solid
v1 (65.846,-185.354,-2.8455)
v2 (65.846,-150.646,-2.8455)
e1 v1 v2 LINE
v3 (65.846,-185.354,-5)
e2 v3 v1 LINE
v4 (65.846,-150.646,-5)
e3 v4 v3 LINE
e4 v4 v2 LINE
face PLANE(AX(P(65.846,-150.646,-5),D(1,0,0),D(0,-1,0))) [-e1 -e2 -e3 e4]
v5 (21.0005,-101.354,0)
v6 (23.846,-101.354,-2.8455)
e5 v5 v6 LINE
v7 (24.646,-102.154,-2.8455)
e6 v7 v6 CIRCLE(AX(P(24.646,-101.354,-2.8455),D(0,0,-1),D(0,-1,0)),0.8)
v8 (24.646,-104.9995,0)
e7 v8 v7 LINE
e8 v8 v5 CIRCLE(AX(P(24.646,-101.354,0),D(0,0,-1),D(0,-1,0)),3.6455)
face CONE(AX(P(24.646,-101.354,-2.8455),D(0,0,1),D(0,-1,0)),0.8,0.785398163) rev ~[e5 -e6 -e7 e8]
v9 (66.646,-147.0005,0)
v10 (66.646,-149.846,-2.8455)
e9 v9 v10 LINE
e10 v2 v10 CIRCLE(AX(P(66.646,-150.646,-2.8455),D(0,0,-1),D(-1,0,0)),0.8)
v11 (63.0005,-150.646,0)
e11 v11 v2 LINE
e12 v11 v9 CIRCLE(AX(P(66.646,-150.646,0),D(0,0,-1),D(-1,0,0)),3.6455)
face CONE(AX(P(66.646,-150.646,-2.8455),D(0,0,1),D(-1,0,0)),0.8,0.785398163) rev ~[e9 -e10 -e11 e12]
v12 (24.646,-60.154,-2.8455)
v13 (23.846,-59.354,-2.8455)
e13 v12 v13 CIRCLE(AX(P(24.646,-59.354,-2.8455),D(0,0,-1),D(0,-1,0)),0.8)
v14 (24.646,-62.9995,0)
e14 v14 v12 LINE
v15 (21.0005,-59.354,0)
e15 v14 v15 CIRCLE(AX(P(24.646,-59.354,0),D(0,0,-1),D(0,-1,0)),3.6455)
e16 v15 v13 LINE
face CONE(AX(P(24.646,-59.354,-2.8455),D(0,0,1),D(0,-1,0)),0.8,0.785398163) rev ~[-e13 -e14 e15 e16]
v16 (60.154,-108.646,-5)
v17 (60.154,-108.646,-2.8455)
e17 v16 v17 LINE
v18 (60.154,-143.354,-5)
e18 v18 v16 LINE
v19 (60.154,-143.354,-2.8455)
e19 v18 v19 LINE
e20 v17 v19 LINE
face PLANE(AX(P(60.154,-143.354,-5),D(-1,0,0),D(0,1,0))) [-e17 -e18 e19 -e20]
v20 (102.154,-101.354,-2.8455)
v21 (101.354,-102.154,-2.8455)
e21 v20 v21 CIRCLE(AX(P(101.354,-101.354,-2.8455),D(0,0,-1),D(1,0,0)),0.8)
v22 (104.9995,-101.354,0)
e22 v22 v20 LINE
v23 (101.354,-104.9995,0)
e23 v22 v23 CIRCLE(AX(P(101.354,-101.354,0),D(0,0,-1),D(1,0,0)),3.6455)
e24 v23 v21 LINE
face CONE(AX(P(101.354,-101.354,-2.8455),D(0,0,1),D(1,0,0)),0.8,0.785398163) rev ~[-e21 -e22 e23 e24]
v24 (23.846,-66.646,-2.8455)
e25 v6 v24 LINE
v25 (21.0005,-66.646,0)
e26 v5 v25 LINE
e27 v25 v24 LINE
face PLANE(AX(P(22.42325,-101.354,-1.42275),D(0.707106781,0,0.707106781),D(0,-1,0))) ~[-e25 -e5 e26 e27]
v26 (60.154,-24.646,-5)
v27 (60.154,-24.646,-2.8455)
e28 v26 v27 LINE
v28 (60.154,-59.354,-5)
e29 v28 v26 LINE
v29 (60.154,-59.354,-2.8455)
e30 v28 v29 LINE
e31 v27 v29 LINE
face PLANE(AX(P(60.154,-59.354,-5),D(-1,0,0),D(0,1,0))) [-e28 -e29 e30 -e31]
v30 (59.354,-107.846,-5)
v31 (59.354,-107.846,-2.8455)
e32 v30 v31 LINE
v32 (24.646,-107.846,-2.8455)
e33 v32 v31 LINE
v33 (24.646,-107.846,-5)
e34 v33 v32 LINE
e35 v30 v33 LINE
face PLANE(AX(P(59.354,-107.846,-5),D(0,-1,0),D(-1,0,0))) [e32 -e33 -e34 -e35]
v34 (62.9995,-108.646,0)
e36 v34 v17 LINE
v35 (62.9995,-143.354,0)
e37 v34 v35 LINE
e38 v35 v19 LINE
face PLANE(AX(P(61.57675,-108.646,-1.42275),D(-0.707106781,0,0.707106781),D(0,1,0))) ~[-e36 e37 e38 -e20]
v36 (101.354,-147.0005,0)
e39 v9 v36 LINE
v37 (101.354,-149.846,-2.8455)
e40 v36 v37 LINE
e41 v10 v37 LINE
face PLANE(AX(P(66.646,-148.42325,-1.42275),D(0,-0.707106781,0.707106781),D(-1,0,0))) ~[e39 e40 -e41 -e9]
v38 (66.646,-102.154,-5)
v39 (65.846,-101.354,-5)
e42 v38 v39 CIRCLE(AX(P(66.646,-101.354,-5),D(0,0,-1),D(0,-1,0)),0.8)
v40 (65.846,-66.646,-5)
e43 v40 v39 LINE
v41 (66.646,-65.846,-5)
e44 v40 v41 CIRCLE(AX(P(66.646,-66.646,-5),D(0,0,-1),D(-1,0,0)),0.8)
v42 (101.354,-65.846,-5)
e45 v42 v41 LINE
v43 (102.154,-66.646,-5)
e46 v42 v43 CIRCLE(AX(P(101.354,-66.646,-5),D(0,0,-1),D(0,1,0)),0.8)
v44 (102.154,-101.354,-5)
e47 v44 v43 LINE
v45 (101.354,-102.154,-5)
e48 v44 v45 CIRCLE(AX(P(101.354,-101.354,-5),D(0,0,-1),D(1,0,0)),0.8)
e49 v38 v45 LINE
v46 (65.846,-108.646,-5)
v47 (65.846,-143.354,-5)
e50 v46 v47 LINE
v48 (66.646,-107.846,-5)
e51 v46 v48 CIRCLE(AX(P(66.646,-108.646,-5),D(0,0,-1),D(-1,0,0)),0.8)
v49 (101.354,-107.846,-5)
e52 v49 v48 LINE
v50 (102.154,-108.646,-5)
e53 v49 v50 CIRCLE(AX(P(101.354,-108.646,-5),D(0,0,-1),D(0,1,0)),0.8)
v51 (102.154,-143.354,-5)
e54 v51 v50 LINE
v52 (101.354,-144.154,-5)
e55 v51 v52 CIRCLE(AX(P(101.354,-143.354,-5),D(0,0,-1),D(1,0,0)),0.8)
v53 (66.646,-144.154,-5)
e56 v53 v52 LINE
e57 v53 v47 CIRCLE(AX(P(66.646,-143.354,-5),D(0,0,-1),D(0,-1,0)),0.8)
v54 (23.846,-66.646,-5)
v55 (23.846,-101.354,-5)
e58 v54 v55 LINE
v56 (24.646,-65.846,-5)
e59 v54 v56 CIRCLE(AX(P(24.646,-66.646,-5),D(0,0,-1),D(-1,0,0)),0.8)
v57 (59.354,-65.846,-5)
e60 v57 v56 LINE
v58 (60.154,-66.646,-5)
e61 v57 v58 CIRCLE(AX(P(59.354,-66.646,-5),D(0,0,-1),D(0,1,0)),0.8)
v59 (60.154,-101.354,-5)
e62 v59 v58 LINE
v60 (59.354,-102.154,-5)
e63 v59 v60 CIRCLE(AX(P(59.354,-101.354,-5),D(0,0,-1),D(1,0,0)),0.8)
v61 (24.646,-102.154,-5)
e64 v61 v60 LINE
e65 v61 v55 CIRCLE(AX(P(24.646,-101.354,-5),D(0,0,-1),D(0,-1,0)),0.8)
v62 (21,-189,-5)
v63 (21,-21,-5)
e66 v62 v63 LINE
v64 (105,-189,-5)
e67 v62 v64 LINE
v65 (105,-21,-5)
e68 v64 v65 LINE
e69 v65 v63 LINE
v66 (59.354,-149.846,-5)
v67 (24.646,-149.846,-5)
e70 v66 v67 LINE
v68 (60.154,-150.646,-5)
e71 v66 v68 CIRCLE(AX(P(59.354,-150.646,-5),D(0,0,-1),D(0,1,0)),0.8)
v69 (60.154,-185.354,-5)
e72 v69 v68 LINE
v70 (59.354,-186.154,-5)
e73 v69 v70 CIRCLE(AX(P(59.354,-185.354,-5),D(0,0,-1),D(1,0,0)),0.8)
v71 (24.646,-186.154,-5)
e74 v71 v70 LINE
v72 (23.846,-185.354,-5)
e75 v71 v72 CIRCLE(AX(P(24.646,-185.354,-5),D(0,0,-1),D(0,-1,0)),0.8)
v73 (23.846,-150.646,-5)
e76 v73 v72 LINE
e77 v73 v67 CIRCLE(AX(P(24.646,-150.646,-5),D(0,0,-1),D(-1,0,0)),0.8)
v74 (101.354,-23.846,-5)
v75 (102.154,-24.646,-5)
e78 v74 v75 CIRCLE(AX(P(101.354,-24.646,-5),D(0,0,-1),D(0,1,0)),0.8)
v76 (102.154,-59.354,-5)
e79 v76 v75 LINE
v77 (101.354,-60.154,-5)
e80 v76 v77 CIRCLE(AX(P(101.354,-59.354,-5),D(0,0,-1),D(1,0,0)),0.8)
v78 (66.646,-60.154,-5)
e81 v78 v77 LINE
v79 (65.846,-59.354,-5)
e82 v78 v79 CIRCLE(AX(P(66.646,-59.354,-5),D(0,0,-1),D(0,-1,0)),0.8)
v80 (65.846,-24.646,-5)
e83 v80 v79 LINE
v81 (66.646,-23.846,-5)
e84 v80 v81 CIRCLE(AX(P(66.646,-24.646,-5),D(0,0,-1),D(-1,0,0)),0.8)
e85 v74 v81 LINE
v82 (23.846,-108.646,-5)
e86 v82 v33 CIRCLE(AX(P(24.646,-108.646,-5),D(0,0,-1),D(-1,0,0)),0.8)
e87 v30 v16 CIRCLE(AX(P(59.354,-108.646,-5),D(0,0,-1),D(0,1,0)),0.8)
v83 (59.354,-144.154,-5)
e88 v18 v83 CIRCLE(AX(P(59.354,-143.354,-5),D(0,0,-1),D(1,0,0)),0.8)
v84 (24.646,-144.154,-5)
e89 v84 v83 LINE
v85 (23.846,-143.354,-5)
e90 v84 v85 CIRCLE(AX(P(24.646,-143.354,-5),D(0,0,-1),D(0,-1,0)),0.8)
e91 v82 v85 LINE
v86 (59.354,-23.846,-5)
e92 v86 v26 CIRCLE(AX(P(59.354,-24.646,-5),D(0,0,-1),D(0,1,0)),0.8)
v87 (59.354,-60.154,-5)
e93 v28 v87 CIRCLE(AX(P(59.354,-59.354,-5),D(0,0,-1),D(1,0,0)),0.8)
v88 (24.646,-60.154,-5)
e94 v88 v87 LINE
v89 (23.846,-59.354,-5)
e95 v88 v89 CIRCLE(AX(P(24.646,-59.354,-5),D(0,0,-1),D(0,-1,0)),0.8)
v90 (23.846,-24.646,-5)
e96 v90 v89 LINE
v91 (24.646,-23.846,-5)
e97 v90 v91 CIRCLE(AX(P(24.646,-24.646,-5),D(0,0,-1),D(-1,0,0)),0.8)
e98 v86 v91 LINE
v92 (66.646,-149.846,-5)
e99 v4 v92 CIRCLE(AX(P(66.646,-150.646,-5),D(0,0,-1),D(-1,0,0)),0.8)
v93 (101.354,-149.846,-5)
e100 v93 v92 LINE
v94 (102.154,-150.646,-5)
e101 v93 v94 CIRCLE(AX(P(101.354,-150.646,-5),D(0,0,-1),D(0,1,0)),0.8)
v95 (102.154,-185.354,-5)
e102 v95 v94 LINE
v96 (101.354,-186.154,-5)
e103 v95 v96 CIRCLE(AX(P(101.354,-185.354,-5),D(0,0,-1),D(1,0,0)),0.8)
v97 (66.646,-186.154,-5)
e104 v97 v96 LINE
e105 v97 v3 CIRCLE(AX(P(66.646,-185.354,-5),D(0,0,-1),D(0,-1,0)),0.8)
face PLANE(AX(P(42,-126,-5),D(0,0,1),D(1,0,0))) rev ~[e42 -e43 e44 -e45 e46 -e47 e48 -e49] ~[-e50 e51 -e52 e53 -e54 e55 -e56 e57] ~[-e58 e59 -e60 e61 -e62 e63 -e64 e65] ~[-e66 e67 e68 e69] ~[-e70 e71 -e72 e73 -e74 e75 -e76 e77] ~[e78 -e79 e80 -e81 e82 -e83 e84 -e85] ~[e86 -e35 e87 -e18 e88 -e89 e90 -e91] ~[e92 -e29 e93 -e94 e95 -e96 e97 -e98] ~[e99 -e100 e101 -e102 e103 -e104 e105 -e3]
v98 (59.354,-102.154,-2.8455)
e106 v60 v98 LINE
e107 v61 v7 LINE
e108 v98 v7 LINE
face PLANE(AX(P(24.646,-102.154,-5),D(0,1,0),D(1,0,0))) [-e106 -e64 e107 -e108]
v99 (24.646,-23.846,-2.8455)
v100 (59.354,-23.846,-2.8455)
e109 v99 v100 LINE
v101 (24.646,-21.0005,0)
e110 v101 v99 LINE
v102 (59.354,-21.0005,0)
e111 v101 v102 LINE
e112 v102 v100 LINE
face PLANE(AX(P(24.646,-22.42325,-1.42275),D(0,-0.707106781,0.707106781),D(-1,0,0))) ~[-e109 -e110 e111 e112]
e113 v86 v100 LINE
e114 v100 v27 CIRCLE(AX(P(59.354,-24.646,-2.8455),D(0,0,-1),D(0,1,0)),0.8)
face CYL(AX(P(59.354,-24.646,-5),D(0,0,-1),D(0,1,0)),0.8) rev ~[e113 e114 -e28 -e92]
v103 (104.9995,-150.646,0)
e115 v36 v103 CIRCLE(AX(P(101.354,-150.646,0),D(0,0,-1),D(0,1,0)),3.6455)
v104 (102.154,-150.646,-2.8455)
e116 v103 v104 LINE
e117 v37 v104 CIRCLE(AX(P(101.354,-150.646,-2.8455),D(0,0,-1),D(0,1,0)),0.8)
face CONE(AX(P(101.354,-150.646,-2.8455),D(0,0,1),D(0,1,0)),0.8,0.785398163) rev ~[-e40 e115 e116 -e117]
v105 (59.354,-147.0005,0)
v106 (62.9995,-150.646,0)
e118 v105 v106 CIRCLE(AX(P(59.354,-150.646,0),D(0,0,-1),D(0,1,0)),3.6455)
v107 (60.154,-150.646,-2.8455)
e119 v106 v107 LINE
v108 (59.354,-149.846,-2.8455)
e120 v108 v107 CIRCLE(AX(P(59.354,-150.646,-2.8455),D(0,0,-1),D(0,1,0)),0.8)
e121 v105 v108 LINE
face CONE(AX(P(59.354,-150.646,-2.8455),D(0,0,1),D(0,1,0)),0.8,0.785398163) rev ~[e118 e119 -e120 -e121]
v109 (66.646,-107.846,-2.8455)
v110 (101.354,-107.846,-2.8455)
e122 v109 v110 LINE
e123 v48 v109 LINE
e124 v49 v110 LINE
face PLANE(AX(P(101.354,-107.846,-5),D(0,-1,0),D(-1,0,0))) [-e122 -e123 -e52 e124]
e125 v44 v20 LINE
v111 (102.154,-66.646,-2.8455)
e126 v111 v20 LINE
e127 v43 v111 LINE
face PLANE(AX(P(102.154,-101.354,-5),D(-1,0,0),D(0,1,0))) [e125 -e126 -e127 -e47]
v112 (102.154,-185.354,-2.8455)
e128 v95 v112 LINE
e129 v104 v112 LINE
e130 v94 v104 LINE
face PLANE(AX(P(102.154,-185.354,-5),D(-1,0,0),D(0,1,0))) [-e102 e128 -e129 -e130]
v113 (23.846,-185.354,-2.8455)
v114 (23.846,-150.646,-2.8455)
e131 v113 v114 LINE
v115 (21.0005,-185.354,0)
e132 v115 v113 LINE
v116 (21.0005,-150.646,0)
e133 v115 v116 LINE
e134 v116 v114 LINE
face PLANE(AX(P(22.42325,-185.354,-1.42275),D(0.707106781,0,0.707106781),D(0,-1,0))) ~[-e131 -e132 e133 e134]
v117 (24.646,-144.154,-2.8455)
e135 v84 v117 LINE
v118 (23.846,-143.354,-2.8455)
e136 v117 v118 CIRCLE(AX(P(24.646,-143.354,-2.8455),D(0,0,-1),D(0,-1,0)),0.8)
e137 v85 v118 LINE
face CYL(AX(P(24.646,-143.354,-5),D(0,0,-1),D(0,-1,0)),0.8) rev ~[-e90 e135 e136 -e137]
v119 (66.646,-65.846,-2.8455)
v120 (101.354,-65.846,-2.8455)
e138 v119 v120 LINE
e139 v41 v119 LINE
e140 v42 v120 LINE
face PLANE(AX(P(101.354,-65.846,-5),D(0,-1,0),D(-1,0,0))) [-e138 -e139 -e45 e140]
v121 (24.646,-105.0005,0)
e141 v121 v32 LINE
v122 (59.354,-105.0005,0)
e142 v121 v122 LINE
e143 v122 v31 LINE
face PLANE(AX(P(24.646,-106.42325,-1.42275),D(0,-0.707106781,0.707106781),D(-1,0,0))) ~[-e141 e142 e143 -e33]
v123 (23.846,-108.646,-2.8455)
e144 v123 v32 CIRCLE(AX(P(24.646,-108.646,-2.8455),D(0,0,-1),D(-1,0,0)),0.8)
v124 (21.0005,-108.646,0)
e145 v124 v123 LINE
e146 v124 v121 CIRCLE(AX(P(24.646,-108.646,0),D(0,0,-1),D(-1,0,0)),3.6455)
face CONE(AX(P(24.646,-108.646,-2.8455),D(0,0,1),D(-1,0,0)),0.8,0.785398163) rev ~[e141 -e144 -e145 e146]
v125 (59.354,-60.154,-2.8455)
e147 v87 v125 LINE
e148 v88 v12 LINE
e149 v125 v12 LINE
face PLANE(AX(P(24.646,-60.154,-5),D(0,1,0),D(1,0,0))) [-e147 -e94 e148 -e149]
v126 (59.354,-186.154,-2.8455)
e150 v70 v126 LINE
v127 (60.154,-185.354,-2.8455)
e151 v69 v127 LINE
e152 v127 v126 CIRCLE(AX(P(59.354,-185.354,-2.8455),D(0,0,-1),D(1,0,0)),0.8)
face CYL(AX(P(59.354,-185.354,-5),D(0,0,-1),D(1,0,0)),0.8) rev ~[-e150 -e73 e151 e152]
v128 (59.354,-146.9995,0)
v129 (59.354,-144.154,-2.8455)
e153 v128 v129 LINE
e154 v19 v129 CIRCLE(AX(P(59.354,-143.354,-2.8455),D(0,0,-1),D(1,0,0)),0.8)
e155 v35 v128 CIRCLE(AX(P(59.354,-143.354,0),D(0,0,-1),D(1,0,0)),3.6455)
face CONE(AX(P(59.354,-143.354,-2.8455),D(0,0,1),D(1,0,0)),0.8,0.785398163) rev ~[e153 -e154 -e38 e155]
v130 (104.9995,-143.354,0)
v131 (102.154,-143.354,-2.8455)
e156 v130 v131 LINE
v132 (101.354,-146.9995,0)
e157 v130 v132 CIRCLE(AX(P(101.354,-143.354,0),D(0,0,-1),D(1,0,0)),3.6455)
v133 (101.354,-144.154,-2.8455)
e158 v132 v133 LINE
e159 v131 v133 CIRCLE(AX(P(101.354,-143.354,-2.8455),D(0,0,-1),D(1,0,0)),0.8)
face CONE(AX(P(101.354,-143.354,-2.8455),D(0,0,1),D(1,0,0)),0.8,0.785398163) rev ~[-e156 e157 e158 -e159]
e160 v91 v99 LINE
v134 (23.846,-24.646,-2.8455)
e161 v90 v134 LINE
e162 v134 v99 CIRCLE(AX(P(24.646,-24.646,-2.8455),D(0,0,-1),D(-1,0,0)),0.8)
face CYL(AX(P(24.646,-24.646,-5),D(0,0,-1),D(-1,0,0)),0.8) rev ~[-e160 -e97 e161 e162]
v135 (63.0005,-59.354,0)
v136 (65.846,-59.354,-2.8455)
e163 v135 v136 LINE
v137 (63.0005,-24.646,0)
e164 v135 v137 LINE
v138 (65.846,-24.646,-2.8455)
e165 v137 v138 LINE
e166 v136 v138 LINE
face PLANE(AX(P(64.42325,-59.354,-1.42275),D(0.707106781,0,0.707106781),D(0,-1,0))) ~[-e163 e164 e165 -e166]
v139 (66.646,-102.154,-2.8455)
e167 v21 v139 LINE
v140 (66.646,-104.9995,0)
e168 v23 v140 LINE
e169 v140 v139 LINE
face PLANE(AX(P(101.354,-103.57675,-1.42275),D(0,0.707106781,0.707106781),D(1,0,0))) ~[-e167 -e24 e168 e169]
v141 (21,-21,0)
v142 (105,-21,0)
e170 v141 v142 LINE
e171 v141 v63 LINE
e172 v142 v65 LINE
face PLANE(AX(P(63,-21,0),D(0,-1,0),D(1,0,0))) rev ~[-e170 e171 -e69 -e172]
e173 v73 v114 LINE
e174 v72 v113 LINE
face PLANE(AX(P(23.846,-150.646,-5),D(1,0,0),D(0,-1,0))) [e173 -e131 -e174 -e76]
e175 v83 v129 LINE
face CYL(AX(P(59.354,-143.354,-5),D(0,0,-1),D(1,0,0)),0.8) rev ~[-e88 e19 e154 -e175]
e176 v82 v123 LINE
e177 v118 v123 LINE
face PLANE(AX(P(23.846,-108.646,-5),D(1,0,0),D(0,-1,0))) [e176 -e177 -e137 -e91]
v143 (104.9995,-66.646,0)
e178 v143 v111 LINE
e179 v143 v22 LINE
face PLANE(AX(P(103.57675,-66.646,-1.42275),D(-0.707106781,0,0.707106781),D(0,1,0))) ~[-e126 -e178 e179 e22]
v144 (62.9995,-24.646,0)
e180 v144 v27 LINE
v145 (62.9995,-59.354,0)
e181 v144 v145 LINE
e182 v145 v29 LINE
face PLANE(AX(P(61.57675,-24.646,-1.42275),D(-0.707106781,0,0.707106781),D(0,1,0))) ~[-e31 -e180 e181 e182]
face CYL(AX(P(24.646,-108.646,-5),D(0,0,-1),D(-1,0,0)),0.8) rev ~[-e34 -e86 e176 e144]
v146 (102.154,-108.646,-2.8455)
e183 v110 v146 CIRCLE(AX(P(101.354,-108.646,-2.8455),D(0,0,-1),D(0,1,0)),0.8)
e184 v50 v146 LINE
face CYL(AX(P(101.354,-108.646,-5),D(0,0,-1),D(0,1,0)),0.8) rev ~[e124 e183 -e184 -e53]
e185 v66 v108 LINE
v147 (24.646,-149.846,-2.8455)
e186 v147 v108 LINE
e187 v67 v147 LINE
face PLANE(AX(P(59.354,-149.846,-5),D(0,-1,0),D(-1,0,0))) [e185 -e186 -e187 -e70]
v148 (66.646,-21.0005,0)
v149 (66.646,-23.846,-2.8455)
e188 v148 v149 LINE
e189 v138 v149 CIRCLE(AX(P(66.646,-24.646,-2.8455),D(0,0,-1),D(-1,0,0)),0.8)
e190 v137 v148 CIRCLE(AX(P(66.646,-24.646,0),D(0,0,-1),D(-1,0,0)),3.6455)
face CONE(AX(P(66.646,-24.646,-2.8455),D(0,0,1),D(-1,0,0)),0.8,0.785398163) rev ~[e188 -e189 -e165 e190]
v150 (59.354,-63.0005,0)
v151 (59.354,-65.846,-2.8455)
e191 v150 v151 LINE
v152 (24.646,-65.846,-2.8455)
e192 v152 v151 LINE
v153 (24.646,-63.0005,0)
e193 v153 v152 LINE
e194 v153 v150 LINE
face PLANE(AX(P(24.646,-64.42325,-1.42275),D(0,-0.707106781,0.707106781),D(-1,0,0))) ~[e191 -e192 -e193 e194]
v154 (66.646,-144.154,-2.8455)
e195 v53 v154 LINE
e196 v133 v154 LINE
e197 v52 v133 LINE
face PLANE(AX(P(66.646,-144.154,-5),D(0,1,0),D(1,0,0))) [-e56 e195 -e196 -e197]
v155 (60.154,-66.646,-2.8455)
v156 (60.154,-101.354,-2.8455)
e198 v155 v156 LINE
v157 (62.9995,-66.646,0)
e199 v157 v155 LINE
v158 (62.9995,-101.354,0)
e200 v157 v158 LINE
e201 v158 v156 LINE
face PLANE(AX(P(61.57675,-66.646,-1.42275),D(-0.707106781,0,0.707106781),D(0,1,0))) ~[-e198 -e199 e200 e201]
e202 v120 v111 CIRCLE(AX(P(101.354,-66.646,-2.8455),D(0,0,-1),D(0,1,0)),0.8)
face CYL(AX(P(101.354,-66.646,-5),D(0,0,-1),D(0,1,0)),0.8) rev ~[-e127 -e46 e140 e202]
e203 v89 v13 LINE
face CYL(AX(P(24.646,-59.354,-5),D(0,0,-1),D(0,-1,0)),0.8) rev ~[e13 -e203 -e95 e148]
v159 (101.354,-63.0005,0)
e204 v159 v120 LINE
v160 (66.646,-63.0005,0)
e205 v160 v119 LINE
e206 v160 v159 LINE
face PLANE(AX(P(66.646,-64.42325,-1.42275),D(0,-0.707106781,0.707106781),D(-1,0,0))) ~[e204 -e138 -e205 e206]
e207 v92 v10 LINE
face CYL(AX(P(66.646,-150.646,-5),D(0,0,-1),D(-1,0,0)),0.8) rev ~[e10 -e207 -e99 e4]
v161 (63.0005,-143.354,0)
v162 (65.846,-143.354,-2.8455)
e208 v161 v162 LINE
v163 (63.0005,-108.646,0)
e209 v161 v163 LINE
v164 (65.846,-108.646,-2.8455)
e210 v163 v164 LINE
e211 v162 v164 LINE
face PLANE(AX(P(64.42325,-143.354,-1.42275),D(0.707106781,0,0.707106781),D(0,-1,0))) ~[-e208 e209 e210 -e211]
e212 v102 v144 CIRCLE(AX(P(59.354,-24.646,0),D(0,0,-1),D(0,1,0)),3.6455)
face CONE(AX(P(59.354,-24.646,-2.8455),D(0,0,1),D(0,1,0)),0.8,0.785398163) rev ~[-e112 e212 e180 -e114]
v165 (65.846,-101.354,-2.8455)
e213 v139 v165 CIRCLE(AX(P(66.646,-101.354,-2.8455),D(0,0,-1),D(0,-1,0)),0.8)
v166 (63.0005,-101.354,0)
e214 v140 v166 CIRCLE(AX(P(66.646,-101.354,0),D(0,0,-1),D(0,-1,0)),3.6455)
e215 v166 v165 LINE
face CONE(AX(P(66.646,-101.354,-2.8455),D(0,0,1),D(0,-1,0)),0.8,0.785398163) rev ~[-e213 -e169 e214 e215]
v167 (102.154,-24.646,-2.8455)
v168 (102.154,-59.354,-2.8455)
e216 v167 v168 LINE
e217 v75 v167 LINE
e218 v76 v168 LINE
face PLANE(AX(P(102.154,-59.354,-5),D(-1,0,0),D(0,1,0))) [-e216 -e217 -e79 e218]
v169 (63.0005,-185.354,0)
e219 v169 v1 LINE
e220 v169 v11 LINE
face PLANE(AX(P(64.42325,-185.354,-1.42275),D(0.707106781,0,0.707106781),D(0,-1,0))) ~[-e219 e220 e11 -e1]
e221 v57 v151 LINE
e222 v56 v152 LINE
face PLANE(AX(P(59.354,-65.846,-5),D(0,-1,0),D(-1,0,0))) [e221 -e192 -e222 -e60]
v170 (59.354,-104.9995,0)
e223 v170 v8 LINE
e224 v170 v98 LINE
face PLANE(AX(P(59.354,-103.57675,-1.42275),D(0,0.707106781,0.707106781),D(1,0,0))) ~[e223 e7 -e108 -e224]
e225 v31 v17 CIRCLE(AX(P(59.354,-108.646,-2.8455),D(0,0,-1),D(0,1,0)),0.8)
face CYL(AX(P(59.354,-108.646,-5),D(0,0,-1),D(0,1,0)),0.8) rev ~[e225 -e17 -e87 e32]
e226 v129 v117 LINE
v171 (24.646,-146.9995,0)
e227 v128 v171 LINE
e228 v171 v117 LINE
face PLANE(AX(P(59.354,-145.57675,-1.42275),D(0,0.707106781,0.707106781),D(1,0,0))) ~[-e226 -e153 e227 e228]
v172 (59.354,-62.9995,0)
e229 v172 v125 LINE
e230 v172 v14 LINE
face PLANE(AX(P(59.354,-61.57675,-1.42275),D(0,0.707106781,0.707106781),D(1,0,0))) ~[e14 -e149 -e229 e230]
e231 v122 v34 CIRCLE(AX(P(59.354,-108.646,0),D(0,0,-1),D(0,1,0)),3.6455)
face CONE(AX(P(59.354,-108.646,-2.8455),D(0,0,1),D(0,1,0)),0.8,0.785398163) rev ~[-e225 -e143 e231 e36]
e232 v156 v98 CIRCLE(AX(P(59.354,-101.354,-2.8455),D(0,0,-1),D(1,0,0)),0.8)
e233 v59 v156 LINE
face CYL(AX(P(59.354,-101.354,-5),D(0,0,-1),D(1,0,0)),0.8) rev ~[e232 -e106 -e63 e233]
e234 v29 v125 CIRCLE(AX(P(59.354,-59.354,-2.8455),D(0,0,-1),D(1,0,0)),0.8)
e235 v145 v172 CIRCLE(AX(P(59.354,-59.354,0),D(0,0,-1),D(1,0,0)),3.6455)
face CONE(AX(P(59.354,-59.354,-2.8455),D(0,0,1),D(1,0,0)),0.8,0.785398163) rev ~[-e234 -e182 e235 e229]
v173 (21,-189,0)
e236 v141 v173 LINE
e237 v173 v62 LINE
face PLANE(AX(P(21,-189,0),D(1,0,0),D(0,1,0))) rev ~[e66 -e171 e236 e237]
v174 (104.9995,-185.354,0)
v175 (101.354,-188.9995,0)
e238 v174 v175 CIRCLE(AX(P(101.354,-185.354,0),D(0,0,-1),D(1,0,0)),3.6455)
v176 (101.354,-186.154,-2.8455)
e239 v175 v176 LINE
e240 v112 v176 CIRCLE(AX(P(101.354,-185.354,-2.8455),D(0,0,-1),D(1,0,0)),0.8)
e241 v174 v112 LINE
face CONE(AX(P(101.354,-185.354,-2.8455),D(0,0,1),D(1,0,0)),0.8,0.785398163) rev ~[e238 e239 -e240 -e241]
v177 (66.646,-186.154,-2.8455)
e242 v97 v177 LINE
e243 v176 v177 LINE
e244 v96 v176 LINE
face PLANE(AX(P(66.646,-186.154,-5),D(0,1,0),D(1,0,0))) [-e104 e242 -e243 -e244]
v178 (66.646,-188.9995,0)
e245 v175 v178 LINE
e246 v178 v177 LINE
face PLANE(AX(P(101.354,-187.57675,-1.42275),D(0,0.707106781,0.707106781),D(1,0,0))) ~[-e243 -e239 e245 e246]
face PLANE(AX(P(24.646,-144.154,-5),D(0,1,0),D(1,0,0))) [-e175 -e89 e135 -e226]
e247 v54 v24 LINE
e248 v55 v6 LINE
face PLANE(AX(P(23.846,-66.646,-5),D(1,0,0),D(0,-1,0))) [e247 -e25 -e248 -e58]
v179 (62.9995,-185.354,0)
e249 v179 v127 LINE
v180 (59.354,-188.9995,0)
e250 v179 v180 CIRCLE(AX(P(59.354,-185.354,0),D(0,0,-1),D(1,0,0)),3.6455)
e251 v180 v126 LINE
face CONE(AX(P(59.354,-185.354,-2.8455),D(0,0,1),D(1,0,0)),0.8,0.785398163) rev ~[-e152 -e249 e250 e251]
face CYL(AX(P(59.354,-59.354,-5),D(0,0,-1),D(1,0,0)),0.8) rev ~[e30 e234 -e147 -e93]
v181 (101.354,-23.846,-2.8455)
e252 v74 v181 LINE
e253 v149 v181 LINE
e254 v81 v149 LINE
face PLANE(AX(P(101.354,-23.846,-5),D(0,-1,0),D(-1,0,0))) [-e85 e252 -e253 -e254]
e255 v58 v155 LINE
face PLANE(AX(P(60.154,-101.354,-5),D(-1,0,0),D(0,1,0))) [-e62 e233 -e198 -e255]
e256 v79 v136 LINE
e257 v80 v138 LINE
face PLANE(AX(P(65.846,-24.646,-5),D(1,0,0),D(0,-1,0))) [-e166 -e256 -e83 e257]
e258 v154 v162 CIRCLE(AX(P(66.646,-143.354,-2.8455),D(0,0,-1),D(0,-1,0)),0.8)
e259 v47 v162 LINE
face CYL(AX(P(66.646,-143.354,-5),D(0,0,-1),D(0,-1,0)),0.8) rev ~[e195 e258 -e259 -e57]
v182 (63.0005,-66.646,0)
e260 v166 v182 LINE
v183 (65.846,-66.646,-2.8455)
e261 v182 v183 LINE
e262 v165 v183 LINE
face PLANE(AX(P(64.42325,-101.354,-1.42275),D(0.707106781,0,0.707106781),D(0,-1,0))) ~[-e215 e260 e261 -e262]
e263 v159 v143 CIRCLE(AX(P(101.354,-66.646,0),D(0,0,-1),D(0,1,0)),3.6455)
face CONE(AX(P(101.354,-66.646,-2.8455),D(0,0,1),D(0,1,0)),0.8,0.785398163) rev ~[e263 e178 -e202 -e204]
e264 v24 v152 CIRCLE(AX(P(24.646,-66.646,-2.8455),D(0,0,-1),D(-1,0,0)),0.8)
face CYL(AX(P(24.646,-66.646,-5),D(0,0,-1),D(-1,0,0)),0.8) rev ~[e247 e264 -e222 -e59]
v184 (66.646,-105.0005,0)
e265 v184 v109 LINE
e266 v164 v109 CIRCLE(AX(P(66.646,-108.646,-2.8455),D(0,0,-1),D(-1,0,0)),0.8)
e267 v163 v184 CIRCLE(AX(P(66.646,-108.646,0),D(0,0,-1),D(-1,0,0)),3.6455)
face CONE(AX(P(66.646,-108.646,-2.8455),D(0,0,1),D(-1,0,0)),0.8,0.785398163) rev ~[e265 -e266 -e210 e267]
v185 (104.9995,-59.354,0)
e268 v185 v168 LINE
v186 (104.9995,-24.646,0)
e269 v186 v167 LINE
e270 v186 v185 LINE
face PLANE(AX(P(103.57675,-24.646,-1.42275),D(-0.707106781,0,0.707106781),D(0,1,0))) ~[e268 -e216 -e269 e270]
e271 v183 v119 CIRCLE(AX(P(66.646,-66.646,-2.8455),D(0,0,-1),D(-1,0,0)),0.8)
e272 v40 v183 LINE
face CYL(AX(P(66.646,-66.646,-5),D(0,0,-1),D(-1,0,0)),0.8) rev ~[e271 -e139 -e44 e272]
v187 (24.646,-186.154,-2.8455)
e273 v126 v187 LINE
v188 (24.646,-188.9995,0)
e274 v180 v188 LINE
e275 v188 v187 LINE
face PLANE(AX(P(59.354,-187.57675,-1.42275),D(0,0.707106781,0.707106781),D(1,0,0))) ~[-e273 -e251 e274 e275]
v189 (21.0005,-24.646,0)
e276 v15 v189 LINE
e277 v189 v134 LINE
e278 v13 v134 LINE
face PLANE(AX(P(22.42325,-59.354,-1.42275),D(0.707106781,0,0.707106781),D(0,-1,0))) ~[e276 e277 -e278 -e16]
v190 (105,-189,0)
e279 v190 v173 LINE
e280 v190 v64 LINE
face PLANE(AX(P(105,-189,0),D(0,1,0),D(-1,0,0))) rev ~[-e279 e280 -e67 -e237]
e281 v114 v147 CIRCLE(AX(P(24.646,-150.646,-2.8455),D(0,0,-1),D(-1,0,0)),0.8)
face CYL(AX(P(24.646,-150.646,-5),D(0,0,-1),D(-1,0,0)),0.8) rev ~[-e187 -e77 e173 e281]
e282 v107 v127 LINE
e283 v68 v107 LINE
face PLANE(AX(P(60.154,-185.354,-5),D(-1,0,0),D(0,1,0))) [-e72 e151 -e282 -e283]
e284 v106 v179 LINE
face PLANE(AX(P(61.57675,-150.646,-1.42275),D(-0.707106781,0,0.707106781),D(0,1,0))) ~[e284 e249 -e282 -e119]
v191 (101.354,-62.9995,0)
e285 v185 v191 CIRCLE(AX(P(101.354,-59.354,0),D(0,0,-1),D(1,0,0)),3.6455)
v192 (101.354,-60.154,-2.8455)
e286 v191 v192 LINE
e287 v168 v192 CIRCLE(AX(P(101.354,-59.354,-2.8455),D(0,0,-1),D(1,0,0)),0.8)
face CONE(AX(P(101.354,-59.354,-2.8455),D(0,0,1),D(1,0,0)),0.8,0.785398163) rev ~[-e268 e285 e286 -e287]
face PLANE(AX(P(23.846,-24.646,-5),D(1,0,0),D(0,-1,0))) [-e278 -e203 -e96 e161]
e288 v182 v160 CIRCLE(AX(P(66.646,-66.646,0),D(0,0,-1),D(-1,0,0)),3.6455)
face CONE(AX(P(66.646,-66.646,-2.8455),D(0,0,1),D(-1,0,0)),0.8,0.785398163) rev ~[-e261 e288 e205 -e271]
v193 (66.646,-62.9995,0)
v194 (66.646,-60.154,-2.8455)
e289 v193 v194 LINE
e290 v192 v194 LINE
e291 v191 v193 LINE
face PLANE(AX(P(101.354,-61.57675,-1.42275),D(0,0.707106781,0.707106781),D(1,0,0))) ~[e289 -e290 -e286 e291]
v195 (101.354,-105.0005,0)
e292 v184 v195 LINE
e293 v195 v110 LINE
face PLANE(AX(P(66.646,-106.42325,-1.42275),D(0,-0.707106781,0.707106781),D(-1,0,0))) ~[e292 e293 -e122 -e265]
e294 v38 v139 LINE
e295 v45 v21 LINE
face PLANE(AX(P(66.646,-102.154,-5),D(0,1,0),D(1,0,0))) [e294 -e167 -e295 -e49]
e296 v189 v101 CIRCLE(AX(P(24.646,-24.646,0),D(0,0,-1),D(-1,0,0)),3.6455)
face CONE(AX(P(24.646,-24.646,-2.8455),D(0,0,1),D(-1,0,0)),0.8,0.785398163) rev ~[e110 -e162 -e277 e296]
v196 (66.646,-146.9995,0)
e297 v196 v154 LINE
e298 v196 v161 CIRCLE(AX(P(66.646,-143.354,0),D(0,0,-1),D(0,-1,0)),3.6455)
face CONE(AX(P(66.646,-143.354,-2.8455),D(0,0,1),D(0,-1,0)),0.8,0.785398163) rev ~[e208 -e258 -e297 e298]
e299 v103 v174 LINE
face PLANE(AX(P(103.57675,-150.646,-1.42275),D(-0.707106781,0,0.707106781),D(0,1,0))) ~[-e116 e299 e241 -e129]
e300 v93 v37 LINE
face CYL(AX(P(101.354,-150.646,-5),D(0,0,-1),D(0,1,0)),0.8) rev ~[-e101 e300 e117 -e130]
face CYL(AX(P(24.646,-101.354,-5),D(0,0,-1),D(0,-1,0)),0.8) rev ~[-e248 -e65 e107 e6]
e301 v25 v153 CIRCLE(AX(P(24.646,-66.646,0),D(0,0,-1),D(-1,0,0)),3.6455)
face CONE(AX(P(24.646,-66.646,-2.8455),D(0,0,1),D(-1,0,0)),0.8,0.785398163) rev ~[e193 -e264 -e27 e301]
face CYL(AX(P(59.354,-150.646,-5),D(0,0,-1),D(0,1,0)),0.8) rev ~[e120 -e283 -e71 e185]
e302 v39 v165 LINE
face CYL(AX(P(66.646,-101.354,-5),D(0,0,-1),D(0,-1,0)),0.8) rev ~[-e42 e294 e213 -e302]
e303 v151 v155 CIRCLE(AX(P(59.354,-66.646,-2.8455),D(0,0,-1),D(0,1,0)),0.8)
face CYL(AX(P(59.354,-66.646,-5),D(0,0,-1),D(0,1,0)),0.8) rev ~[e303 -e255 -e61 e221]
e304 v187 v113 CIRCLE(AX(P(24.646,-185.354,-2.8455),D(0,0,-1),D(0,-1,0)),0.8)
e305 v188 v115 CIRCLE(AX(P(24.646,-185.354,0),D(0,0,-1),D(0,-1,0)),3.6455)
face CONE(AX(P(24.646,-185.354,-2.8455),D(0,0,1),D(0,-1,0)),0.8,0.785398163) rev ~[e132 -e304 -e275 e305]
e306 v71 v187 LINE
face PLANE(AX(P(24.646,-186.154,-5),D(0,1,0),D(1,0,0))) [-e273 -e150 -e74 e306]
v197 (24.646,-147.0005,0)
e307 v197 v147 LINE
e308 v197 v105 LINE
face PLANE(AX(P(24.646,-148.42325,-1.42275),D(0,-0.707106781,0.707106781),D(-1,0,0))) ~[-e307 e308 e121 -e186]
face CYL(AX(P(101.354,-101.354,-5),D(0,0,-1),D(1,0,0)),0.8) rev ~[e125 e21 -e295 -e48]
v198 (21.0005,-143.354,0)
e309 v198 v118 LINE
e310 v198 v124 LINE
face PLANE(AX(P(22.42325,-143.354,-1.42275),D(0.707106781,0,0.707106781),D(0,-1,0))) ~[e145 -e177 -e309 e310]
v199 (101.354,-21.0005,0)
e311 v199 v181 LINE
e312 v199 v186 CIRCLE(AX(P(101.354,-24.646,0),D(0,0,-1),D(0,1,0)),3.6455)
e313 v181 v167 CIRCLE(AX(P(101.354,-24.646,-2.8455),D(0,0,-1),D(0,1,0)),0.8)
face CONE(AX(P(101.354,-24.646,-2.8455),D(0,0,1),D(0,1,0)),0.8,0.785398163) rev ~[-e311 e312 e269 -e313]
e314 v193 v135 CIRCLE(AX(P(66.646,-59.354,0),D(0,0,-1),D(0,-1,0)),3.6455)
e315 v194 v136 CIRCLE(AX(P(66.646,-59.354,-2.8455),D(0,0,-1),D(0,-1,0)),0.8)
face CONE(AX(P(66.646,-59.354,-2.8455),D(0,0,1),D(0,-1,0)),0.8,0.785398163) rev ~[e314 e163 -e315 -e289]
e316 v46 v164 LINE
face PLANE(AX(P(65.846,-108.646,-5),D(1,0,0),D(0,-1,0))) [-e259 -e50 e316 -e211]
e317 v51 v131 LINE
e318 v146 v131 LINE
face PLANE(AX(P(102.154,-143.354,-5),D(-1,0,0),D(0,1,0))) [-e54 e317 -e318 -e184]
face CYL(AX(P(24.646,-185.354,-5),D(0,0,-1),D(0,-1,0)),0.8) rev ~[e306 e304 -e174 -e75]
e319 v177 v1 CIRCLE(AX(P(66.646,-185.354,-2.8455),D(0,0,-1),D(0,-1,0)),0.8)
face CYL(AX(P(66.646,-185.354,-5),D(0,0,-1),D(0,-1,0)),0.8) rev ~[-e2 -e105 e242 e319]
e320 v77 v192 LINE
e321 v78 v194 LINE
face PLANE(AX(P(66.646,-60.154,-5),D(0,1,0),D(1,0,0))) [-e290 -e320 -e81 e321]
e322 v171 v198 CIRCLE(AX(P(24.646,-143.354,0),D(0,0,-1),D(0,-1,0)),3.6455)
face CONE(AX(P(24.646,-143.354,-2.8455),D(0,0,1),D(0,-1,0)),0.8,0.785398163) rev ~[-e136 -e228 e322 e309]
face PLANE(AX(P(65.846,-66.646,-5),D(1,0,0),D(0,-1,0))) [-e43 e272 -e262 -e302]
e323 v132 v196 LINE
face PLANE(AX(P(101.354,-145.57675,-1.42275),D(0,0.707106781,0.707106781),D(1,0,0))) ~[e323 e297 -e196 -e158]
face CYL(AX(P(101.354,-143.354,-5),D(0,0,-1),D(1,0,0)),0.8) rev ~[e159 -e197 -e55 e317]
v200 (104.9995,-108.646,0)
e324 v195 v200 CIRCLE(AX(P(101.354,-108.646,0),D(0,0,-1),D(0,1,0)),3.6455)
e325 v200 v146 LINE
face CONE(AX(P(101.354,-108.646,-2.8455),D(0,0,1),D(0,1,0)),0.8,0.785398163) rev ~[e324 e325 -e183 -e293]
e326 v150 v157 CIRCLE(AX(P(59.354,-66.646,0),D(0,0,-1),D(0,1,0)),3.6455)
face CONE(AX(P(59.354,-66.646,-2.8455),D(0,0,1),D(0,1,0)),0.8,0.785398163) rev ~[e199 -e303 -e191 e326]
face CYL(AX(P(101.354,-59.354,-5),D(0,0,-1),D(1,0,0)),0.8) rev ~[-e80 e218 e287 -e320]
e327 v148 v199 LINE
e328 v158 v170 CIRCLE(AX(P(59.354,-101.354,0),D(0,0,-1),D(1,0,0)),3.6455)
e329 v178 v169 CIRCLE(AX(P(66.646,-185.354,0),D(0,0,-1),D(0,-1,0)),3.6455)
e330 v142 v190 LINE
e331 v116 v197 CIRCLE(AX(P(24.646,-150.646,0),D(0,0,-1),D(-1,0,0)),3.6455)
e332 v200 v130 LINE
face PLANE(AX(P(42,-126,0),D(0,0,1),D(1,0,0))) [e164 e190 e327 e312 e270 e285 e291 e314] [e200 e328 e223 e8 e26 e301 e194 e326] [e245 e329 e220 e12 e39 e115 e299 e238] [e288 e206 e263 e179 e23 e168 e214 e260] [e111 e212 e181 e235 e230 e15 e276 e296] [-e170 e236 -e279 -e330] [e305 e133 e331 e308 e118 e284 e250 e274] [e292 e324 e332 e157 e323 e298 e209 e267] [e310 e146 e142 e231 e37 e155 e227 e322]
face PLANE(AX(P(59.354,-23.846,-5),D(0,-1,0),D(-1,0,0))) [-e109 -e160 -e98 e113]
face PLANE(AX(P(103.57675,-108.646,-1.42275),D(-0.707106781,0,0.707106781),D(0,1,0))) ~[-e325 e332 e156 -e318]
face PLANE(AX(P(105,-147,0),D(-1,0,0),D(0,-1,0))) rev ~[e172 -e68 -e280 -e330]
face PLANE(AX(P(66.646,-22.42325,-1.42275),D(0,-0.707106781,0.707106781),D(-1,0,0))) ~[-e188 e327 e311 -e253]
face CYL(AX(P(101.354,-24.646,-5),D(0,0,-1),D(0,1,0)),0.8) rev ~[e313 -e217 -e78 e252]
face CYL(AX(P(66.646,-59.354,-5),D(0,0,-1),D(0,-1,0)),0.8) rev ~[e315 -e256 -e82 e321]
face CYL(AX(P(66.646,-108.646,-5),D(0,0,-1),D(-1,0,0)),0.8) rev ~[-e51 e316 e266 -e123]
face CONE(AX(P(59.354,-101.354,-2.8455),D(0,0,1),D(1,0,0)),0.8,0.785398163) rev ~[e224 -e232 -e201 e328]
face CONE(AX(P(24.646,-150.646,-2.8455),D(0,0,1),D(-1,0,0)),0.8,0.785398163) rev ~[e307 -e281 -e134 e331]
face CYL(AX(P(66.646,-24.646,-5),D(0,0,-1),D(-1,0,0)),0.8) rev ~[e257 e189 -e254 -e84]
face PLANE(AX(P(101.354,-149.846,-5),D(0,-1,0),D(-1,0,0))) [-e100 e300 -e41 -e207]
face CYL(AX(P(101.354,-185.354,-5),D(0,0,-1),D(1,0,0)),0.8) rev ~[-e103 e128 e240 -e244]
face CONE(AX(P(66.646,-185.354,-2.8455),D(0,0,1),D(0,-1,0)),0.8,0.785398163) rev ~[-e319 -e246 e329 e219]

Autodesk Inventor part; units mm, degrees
ref_plane "YZ Plane" through (0, 0, 0) normal (1, 0, 0) x (0, 1, 0)
ref_plane "XZ Plane" through (0, 0, 0) normal (0, 1, 0) x (-1, 0, 0)
ref_plane "XY Plane" through (0, 0, 0) normal (0, 0, 1) x (1, 0, 0)
sketch "Sketch1" plane through (0, 0, 0) normal (0, 0, 1) x (1, 0, 0)
  line L0 (21, -21) -> (63, -21)
  line L1 (63, -21) -> (63, -63)
  line L2 (63, -63) -> (21, -63)
  line L3 (21, -63) -> (21, -21)
  point P0 (0, 0)
  dimension "d7" = 42
  dimension "d8" = 42
extrude "Extrusion1" add sketch "Sketch1" against normal blind 5
sketch "Sketch2" plane through (0, 0, -5) normal (0, 0, -1) x (-1, 0, 0)
  line L0 (-63, -63) -> (-21, -63) construction
  line L1 (-21, -21) -> (-63, -21) construction
  line L2 (-21, -63) -> (-63, -21) construction
  line L3 (-63, -63) -> (-21, -21) construction
  line L4 (-59.354, -23.846) -> (-24.646, -23.846)
  line L5 (-23.846, -24.646) -> (-23.846, -59.354)
  line L6 (-24.646, -60.154) -> (-59.354, -60.154)
  line L7 (-60.154, -59.354) -> (-60.154, -24.646)
  line L8 (-60.154, -23.846) -> (-23.846, -60.154) construction
  line L9 (-23.846, -23.846) -> (-60.154, -60.154) construction
  line L10 (-63, -21) -> (-63, -63) projected
  arc A0 (-59.354, -23.846) -> (-60.154, -24.646) centre (-59.354, -24.646) ccw
  arc A1 (-23.846, -24.646) -> (-24.646, -23.846) centre (-24.646, -24.646) ccw
  arc A2 (-24.646, -60.154) -> (-23.846, -59.354) centre (-24.646, -59.354) ccw
  arc A3 (-60.154, -59.354) -> (-59.354, -60.154) centre (-59.354, -59.354) ccw
  point P0 (0, 0)
  point P1 (-42, -42)
  dimension "d9" = 2.846
  dimension "d10" = 1.6
  dimension "d11" = 1.6
  dimension "d12" = 1.6
  dimension "d13" = 1.6
extrude "Extrusion2" cut sketch "Sketch2" against normal through all
chamfer "Chamfer2" distance 2.846 angle 45 8 edges at (42, -23.846, 0) (59.9197, -24.0803, 0) (60.154, -42, 0) (59.9197, -59.9197, 0) (42, -60.154, 0) (24.0803, -59.9197, 0) (23.846, -42, 0) (24.0803, -24.0803, 0)
pattern_linear "Rectangular Pattern1" count 4 spacing 42 along (0, -1, 0) count 2 spacing 42 along (1, 0, 0) of "Extrusion1", "Extrusion2", "Chamfer2"
equation "\"d7\" = CONST_Side_Length"
equation "\"d8\" = CONST_Side_Length"
equation "\"d9\" = CONST_Inset_Radius"
equation "\"d10\" = CONST_Curvature_Radius"
equation "\"d11\" = CONST_Curvature_Radius"
equation "\"d12\" = CONST_Curvature_Radius"
equation "\"d13\" = CONST_Curvature_Radius"
equation "\"d14\" = CONST_Inset_Radius"
equation "\"d19\" = CONST_Side_Length"
equation "\"d22\" = CONST_Side_Length"
equation "\"CONST_Side_Length\" = 42"
equation "\"CONST_Inset_Radius\" = 2.846"
equation "\"CONST_Curvature_Radius\" = 1.6"
properties part number "Single_frame"
